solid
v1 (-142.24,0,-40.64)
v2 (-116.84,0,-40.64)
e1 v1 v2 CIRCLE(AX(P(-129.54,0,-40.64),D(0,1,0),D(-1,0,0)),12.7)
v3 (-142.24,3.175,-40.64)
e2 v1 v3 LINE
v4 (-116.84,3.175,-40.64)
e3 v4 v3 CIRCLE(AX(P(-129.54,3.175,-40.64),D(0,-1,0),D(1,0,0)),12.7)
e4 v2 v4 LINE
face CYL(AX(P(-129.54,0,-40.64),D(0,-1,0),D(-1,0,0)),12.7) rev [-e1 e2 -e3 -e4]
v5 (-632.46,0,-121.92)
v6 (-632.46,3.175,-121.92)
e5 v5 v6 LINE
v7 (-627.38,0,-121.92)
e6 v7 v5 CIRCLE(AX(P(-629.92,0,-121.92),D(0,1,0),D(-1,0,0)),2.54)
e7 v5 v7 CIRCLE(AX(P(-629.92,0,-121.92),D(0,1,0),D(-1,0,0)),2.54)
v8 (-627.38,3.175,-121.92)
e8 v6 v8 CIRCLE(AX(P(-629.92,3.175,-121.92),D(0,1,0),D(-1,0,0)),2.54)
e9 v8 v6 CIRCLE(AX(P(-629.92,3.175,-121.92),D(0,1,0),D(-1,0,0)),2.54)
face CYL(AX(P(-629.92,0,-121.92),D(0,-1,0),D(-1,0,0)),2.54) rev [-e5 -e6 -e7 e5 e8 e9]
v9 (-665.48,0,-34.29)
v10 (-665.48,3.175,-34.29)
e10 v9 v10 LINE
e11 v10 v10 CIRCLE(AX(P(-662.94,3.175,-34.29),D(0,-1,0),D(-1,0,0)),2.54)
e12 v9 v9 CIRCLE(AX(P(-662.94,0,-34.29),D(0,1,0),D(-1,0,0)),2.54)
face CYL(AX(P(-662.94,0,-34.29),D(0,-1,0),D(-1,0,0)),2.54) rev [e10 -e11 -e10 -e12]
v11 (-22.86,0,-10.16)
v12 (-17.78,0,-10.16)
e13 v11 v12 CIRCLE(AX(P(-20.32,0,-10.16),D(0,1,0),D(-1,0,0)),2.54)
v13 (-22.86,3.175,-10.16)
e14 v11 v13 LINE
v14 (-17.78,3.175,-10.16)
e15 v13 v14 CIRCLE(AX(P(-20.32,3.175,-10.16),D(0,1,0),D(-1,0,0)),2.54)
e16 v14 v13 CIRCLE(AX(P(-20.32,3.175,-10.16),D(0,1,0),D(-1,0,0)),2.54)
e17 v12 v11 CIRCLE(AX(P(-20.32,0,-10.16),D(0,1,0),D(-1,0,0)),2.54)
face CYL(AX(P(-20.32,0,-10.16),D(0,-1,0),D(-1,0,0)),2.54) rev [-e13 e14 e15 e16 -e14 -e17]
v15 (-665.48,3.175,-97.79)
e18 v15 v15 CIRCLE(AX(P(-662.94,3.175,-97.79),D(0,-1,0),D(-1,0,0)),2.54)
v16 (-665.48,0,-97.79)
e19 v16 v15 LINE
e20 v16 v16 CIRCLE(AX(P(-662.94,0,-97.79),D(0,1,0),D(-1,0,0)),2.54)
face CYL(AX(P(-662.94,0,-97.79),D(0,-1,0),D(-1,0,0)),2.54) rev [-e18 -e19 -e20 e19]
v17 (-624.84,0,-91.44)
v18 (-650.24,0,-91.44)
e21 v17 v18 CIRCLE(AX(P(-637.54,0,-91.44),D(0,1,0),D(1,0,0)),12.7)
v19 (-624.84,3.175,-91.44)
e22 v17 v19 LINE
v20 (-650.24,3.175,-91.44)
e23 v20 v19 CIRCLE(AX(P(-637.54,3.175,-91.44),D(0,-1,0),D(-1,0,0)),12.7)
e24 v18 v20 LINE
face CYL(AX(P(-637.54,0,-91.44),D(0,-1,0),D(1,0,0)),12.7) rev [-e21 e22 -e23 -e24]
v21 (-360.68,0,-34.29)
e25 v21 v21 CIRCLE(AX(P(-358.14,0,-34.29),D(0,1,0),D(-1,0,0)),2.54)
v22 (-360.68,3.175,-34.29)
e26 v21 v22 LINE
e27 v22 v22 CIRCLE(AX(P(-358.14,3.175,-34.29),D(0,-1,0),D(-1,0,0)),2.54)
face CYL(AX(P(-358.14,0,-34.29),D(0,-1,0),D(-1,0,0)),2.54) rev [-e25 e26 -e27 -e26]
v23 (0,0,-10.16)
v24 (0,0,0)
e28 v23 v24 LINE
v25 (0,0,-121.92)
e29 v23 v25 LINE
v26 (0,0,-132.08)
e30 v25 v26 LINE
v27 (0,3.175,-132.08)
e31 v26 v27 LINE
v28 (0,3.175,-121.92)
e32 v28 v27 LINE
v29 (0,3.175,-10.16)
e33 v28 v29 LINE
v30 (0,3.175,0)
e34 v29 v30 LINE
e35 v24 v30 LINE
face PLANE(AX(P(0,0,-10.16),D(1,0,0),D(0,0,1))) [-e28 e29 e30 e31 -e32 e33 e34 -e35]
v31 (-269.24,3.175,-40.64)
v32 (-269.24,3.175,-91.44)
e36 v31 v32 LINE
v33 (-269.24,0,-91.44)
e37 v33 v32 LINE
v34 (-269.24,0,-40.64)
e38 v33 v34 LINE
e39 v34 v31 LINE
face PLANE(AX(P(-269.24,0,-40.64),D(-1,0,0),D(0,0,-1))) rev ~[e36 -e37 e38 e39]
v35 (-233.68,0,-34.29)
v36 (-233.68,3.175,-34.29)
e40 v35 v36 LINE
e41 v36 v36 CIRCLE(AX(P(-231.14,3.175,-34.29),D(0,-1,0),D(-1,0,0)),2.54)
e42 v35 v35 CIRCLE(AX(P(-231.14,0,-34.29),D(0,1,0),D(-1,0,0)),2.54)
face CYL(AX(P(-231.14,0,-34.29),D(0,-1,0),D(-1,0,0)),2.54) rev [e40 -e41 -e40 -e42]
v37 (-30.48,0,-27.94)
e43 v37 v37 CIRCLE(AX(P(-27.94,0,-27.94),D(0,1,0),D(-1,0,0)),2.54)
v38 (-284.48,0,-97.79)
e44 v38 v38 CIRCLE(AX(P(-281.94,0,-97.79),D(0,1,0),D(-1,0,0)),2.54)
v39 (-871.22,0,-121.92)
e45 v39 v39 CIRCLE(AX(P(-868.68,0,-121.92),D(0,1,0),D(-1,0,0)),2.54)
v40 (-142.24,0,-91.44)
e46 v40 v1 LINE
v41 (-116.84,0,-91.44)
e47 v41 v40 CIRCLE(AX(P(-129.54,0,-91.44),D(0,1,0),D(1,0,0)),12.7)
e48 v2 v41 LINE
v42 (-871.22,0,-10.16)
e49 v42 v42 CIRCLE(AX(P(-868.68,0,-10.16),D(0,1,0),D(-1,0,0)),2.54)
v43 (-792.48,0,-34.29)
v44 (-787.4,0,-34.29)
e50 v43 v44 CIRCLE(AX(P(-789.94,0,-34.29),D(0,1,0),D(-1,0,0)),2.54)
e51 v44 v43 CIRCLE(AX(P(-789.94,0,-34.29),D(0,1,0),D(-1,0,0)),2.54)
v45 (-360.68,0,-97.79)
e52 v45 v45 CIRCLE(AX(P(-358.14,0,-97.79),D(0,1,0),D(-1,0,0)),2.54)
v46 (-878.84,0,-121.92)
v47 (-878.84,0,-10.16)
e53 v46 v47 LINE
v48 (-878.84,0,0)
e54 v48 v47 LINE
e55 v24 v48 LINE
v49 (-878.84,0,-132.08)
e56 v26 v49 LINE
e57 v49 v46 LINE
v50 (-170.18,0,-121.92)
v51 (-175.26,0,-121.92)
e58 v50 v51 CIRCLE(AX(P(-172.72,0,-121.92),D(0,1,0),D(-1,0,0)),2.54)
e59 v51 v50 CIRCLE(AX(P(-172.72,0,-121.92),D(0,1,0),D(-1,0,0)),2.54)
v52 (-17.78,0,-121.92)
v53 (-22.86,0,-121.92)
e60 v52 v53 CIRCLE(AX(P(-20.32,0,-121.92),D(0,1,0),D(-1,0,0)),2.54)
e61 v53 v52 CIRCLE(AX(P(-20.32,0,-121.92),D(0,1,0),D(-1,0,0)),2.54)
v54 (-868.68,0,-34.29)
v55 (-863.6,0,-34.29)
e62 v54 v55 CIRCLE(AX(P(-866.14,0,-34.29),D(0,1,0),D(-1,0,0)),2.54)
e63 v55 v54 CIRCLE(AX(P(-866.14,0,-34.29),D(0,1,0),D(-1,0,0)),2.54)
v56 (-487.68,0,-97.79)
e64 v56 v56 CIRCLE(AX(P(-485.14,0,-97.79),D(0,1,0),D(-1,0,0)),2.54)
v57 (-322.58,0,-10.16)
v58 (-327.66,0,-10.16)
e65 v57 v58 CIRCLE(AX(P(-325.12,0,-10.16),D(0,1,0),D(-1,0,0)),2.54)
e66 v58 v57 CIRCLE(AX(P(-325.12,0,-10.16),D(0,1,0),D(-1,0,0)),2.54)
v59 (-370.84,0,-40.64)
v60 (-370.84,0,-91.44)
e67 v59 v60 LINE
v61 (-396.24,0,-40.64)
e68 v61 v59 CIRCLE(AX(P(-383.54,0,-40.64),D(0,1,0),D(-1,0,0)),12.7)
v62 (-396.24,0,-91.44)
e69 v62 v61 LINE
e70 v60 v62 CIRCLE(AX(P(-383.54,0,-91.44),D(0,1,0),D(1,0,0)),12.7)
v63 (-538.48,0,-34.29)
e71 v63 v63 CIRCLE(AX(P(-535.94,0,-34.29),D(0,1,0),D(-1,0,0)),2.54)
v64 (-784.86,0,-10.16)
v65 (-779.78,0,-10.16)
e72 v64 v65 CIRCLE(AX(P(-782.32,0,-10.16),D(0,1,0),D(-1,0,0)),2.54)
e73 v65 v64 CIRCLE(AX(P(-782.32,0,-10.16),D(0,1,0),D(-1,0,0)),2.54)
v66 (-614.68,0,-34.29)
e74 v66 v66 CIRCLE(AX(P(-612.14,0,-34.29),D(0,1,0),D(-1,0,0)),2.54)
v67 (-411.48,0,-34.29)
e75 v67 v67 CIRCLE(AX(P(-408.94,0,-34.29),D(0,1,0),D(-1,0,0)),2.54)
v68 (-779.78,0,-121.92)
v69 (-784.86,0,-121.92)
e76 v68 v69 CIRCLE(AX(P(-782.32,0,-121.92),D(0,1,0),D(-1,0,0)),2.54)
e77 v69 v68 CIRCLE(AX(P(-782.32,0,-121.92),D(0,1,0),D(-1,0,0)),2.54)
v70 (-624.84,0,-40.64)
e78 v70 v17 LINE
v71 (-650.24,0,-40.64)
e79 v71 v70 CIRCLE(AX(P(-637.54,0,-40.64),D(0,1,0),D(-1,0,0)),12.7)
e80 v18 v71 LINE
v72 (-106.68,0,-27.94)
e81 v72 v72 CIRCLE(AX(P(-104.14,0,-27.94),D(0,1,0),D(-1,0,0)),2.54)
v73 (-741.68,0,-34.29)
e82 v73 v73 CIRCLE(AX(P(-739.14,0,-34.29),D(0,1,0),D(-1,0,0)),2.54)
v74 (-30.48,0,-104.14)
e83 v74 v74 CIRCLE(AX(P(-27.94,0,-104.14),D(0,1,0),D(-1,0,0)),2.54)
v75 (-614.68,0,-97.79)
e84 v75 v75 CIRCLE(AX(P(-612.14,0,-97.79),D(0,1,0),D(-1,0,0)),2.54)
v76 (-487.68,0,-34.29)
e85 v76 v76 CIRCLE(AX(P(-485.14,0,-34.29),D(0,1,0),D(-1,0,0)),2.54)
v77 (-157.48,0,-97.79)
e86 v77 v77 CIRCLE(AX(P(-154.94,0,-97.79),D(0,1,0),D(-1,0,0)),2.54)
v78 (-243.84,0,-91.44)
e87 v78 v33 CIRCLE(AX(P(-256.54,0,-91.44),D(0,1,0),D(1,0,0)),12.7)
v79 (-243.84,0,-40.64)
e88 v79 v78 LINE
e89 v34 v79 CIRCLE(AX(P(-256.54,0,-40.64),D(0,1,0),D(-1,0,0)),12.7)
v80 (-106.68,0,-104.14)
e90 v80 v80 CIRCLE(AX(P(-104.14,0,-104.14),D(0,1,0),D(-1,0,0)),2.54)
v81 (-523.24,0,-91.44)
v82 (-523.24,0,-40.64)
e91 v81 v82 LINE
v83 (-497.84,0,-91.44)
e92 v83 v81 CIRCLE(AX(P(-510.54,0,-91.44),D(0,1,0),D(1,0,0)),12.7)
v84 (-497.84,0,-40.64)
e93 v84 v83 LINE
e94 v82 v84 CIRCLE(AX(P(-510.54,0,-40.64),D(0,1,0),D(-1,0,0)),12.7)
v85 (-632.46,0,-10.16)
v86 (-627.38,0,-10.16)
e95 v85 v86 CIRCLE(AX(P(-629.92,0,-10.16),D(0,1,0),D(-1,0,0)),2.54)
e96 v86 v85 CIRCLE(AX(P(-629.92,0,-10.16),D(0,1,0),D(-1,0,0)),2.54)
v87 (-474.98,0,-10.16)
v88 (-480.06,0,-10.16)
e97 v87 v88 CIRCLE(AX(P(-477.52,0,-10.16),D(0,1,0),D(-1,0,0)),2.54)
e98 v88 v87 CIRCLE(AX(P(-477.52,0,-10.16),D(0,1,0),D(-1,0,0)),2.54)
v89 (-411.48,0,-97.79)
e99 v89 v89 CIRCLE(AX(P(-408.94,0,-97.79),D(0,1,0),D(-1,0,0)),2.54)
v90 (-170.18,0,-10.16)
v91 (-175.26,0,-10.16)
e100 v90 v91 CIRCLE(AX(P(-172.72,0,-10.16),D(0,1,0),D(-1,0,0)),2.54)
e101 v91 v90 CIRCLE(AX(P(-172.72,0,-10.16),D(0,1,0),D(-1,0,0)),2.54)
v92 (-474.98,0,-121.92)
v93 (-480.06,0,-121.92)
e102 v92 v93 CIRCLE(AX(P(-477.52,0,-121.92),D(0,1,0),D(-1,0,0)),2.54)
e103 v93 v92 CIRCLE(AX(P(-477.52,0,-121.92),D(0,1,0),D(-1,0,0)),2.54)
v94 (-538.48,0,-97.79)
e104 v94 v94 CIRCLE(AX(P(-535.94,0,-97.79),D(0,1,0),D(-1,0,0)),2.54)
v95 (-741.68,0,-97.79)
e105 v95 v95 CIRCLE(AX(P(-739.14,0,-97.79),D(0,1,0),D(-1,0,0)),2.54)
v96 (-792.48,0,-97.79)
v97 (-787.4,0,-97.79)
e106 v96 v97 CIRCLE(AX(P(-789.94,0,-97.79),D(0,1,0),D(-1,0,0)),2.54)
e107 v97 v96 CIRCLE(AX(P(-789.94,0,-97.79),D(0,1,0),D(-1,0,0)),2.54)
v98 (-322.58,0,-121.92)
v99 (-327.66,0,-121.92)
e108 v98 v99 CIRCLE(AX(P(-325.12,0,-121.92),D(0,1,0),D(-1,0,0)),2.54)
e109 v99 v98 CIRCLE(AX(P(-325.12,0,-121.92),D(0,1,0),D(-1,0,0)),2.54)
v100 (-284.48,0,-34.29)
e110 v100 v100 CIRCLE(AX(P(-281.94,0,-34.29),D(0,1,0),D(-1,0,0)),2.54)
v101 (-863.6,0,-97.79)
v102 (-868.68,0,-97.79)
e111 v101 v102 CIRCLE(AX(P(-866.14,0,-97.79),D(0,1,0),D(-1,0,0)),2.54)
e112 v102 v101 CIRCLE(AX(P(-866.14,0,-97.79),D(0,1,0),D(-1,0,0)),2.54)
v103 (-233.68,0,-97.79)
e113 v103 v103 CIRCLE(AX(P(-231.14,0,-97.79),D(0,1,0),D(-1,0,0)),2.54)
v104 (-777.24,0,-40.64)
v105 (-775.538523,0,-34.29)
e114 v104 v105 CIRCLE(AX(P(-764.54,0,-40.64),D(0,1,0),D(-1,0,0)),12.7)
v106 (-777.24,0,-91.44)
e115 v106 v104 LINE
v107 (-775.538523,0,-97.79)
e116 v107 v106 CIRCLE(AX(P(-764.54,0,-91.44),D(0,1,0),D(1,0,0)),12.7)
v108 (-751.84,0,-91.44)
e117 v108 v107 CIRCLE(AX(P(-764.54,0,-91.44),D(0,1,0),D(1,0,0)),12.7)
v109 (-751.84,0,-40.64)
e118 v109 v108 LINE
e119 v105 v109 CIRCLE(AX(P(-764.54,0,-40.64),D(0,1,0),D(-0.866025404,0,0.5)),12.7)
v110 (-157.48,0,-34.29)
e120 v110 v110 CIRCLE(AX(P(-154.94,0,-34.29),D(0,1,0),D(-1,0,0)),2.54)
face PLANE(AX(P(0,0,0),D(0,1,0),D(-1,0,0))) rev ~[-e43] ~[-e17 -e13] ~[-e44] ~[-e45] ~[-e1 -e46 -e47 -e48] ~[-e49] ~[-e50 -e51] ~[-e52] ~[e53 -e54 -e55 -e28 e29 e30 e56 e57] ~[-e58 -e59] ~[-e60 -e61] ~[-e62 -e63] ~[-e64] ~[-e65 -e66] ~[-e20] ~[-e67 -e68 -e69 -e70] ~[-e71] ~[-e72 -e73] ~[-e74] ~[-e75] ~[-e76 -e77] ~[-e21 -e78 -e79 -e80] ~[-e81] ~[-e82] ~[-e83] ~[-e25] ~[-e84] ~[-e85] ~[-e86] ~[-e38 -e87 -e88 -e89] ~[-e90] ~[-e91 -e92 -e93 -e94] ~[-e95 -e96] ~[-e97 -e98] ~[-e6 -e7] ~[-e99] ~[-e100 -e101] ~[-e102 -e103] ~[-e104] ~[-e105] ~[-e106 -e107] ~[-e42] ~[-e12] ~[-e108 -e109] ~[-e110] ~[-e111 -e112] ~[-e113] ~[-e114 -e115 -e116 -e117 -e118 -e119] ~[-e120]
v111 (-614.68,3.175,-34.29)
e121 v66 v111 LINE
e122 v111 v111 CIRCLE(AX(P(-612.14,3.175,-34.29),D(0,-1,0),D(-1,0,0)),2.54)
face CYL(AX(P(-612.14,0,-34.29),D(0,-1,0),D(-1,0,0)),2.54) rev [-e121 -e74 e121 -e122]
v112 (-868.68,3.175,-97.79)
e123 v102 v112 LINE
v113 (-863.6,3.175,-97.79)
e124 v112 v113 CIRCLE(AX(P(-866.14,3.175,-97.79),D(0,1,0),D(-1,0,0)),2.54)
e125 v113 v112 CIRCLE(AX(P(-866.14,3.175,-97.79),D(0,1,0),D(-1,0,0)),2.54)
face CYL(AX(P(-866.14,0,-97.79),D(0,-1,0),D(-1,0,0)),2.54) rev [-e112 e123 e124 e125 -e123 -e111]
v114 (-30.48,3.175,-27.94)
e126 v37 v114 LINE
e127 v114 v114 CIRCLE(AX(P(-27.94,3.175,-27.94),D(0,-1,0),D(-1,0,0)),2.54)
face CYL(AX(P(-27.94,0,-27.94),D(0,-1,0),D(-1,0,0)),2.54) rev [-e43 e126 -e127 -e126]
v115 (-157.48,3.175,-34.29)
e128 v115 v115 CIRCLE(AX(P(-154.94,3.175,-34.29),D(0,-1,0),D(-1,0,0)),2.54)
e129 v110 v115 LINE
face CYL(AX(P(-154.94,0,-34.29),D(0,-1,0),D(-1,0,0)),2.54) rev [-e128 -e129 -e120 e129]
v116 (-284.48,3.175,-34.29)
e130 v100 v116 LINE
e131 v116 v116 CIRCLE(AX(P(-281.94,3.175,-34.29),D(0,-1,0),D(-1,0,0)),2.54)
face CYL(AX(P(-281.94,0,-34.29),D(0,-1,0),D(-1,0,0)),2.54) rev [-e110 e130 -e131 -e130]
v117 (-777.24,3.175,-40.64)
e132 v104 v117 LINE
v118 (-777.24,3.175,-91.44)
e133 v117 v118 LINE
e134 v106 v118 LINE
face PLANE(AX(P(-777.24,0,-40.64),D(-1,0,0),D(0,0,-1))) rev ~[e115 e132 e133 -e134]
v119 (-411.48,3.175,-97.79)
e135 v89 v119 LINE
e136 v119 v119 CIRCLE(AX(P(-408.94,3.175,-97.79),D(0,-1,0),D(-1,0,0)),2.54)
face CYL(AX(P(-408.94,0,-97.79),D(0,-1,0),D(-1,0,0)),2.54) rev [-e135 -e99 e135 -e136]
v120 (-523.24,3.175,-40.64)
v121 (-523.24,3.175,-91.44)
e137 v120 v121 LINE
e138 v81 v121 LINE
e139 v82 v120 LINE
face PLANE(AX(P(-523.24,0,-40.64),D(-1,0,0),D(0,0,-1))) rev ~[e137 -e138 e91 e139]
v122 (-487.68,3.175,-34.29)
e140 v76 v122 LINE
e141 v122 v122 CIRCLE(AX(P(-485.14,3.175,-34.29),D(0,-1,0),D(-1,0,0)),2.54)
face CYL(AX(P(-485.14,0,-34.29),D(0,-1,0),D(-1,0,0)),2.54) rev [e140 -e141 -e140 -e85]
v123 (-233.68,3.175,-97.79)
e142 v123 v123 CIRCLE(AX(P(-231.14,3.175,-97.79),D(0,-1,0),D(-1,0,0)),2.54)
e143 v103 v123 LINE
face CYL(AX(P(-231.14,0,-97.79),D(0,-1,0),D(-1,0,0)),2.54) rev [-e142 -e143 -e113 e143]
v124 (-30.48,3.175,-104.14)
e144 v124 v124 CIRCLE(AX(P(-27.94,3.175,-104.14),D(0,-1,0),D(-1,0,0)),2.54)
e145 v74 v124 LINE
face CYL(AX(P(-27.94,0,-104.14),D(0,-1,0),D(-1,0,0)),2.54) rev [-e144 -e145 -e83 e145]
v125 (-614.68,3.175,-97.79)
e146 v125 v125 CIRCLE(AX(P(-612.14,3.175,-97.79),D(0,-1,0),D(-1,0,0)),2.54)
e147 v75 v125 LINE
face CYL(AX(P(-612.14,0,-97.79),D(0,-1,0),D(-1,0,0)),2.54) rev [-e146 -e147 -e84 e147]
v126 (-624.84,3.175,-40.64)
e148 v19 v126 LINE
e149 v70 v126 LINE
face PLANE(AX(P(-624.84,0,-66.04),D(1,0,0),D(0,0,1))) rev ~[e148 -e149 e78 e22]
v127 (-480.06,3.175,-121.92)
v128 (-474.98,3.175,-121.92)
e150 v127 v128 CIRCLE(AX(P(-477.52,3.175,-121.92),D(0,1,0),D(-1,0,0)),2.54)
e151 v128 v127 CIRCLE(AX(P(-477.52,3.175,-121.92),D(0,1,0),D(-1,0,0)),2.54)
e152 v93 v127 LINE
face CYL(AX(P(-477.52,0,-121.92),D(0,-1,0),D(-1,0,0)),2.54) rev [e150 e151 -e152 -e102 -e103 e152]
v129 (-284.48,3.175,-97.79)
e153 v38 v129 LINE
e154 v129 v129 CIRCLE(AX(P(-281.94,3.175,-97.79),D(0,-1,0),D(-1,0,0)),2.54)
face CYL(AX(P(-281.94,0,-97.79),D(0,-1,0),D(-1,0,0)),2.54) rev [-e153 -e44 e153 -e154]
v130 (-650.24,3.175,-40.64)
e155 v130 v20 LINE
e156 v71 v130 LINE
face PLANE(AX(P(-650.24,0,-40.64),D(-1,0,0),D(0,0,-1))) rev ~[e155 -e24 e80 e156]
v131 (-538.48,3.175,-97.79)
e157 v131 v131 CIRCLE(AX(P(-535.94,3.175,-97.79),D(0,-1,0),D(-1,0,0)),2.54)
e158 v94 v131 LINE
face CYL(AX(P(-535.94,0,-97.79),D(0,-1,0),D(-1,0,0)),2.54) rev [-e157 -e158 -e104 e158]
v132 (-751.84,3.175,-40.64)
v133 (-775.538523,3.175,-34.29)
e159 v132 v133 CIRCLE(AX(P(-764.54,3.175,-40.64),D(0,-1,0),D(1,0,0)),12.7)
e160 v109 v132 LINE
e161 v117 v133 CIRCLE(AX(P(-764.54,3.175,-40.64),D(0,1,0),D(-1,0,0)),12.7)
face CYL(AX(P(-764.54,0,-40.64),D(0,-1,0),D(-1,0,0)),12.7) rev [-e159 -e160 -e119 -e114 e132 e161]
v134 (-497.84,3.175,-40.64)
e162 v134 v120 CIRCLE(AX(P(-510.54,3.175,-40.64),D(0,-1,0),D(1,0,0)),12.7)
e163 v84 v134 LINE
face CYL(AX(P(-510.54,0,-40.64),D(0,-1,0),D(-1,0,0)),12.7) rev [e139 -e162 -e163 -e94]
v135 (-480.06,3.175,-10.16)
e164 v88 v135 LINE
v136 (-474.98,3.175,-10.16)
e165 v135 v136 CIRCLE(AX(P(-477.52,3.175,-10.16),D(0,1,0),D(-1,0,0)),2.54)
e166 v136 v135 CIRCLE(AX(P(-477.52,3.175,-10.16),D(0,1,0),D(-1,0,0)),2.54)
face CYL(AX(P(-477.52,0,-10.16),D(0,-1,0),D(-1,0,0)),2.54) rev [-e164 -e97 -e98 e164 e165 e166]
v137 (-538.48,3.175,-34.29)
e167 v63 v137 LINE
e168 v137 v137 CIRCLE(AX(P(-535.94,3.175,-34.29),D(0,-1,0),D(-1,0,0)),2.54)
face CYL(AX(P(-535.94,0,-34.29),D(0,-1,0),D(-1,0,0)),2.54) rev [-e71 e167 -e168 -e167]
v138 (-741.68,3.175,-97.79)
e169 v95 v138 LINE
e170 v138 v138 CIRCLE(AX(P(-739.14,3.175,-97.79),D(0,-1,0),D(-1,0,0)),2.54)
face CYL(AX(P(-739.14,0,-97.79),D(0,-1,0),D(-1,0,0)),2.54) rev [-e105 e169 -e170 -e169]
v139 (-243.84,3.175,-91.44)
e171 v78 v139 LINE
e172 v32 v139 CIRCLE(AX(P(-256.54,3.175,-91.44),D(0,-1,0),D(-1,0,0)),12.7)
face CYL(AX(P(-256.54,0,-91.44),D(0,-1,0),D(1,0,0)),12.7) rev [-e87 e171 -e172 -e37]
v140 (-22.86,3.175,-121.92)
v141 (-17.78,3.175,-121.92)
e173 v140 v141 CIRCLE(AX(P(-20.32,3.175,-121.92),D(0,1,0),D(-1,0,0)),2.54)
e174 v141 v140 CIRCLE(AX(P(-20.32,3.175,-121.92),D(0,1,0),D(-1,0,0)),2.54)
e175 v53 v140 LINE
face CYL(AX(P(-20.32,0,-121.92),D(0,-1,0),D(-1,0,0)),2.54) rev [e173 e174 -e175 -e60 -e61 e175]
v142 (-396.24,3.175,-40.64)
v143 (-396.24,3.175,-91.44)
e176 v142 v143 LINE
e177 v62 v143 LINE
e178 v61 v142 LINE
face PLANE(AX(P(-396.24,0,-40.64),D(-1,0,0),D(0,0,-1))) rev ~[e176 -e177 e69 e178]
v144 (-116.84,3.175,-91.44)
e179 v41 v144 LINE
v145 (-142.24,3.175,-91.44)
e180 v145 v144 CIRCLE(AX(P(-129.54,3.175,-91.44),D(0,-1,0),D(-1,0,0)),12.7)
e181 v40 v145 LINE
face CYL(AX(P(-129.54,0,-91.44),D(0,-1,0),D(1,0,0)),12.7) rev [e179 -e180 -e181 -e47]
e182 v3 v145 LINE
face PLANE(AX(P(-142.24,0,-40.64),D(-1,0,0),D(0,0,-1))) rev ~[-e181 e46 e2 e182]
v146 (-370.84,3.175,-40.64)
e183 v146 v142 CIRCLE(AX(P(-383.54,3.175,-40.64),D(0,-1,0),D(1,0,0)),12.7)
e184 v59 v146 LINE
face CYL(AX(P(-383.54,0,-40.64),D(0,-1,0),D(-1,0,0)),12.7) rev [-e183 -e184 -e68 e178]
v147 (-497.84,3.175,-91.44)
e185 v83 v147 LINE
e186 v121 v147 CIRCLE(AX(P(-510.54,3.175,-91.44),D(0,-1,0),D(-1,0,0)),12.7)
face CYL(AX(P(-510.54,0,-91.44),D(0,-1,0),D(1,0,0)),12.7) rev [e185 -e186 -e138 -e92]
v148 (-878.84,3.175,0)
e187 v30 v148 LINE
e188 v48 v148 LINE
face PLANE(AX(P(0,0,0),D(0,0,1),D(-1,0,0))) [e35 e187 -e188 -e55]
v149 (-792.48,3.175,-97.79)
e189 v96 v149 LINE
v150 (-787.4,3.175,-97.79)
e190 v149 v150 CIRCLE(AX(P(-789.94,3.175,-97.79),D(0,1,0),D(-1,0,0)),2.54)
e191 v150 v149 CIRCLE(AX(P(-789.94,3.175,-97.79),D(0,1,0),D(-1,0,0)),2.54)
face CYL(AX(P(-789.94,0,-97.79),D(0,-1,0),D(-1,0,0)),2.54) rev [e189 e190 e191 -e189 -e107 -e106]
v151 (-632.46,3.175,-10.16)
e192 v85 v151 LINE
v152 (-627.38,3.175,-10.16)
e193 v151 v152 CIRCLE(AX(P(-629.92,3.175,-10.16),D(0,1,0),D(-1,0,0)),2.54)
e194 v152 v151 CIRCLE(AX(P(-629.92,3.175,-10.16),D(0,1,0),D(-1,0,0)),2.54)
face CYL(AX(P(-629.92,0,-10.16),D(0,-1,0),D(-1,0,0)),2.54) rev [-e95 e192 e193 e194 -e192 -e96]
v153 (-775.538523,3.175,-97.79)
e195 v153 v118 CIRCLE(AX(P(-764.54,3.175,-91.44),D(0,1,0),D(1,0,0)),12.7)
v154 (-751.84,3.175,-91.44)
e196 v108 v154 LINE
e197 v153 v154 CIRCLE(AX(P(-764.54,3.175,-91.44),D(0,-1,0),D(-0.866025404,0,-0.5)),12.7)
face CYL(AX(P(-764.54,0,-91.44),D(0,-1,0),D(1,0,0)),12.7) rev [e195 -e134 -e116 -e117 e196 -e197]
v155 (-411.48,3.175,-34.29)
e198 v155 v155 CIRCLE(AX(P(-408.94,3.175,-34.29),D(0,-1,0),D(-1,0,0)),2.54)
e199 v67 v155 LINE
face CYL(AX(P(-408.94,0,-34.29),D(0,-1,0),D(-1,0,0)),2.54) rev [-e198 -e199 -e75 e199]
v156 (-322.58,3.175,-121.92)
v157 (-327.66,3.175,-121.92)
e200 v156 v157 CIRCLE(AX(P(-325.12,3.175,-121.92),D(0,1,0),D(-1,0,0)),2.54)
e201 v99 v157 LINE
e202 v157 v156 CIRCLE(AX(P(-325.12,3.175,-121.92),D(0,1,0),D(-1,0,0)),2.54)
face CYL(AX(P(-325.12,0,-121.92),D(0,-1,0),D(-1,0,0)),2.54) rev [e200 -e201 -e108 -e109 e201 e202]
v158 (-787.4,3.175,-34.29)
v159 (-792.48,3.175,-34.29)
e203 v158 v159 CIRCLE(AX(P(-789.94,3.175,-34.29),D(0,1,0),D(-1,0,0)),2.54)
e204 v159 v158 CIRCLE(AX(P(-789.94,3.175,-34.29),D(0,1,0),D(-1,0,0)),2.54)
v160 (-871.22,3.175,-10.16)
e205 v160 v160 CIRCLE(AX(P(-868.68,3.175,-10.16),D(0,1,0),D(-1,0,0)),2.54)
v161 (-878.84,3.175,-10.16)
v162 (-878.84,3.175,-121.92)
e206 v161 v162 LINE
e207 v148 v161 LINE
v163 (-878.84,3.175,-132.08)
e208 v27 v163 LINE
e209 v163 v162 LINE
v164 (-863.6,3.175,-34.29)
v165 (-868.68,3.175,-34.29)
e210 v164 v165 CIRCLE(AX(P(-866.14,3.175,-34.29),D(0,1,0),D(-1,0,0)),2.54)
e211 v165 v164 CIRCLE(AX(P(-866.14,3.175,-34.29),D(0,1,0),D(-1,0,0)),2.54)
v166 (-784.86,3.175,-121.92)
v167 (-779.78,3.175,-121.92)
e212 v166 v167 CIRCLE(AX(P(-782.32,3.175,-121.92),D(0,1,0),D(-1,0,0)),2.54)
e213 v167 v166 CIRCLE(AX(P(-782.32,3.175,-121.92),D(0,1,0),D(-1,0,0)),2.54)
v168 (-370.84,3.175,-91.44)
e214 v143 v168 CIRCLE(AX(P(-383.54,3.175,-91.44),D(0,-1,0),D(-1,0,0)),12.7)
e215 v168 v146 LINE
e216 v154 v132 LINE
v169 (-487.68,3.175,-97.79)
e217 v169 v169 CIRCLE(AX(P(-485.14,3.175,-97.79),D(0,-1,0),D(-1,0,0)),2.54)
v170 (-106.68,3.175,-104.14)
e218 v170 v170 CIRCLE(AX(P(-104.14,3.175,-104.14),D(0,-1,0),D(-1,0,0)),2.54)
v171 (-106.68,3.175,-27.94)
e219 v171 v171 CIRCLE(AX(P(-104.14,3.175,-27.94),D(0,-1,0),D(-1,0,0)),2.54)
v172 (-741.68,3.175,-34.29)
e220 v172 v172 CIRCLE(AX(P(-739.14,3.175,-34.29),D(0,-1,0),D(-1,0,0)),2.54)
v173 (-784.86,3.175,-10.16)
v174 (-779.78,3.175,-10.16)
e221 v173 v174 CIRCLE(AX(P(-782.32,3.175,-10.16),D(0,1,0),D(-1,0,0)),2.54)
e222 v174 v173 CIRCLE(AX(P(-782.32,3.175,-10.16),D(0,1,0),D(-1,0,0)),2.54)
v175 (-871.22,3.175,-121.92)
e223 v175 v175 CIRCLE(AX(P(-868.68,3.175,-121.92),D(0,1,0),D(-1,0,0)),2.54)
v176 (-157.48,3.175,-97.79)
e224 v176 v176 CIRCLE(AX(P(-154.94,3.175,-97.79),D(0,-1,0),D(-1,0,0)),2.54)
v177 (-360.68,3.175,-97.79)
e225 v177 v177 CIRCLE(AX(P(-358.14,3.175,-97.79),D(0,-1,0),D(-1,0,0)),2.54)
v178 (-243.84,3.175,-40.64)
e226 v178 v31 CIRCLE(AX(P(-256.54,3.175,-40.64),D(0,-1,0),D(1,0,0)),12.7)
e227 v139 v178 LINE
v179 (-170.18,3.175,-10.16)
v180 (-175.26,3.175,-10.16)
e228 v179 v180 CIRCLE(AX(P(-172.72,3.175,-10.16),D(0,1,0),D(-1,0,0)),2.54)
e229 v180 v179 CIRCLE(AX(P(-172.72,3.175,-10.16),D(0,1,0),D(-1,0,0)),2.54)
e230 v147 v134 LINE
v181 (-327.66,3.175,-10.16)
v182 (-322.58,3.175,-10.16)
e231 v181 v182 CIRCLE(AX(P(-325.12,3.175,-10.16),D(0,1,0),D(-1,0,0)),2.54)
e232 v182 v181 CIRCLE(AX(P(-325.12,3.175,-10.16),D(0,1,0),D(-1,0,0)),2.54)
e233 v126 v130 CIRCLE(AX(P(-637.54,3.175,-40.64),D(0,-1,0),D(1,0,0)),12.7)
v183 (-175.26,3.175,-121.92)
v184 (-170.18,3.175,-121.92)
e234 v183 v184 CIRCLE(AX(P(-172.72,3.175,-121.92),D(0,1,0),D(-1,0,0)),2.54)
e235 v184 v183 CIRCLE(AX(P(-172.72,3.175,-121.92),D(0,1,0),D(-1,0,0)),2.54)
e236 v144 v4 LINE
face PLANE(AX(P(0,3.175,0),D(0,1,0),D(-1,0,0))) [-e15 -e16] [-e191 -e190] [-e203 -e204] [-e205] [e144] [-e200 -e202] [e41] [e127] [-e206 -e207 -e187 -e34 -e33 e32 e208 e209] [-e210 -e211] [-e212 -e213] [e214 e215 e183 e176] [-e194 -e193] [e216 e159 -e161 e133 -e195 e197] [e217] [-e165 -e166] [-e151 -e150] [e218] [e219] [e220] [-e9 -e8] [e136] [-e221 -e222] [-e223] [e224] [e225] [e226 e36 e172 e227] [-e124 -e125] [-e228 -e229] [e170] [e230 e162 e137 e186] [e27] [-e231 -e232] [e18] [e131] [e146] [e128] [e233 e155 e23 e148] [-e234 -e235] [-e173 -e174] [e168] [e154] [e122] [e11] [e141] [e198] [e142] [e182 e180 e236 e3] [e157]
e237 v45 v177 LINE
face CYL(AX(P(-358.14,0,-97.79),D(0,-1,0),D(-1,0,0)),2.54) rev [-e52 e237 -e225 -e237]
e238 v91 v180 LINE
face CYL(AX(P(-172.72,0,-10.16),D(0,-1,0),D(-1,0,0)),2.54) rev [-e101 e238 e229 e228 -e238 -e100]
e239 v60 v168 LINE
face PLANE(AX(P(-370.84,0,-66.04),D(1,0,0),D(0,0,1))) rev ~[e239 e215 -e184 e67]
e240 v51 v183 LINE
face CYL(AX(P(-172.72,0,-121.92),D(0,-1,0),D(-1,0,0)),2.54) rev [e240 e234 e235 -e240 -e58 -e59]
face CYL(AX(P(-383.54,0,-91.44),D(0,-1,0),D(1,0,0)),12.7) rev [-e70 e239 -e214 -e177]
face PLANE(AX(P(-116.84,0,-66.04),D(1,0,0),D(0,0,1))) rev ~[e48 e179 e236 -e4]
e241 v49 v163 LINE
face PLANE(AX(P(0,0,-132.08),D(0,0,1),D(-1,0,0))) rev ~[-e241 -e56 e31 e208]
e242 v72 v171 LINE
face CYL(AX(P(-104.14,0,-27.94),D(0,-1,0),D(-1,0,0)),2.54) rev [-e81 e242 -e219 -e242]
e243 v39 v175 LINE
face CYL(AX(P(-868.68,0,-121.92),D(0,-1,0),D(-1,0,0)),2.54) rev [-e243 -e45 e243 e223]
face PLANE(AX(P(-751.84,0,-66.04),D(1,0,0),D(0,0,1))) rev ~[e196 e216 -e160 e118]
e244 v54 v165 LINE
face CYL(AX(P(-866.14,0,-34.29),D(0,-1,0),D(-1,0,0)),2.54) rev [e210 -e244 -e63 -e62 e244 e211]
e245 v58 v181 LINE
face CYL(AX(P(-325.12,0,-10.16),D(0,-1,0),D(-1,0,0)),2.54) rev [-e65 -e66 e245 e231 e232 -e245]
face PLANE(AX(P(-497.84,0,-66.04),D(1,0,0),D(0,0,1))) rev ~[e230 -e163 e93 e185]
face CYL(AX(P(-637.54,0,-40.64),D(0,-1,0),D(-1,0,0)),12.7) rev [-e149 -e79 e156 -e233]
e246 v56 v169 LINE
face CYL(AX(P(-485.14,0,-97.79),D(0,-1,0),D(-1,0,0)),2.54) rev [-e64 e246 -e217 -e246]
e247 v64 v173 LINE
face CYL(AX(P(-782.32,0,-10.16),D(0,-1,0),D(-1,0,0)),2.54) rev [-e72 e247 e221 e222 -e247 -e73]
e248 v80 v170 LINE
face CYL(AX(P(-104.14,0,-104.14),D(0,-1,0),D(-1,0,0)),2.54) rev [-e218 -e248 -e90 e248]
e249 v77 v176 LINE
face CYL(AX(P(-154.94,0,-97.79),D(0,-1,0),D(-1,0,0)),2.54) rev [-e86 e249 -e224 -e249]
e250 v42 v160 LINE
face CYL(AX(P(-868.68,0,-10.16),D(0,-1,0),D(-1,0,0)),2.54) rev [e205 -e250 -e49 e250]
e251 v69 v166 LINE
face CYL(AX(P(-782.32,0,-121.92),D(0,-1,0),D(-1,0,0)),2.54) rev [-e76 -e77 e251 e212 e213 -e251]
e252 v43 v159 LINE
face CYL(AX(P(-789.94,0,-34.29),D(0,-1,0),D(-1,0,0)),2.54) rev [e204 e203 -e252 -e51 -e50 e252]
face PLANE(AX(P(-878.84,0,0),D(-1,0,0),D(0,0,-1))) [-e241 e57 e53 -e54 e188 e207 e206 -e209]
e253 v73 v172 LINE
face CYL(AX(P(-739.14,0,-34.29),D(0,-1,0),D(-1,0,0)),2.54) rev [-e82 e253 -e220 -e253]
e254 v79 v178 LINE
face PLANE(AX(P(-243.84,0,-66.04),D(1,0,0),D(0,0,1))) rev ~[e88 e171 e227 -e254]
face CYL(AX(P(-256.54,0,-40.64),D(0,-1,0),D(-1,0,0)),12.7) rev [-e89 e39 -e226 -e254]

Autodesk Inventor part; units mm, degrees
ref_plane "YZ Plane" through (0, 0, 0) normal (1, 0, 0) x (0, 1, 0)
ref_plane "XZ Plane" through (0, 0, 0) normal (0, 1, 0) x (-1, 0, 0)
ref_plane "XY Plane" through (0, 0, 0) normal (0, 0, 1) x (1, 0, 0)
sketch "Sketch1" plane through (0, 0, 0) normal (0, 1, 0) x (-1, 0, 0)
  line L0 (0, 0) -> (878.84, 0)
  line L1 (878.84, 0) -> (878.84, -66.04)
  line L2 (878.84, -66.04) -> (0, -66.04)
  line L3 (0, -66.04) -> (0, 0)
  line L4 (0, 0) -> (0, -20.32)
  line L5 (0, 0) -> (20.32, 0) construction
  line L6 (0, -20.32) -> (878.84, -20.32)
  line L7 (0, -10.16) -> (20.32, -10.16)
  line L8 (0, -10.16) -> (20.32, -10.16) construction
  circle A0 centre (20.32, -10.16) radius 2.54
  line L9 (20.32, -10.16) -> (172.72, -10.16)
  line L10 (20.32, -10.16) -> (172.72, -10.16) construction
  circle A1 centre (172.72, -10.16) radius 2.54
  line L11 (172.72, -10.16) -> (325.12, -10.16)
  circle A2 centre (325.12, -10.16) radius 2.54
  line L12 (325.12, -10.16) -> (477.52, -10.16)
  circle A3 centre (477.52, -10.16) radius 2.54
  line L13 (477.52, -10.16) -> (629.92, -10.16)
  circle A4 centre (629.92, -10.16) radius 2.54
  line L14 (629.92, -10.16) -> (782.32, -10.16)
  circle A5 centre (782.32, -10.16) radius 2.54
  line L15 (878.84, 0) -> (878.84, -10.16)
  line L16 (878.84, 0) -> (889, 0) construction
  line L17 (878.84, -10.16) -> (868.68, -10.16)
  circle A6 centre (868.68, -10.16) radius 2.54
  line L18 (0, 0) -> (0, -27.94)
  line L19 (0, 0) -> (27.94, 0) construction
  line L20 (0, -27.94) -> (27.94, -27.94)
  circle A7 centre (27.94, -27.94) radius 2.54
  line L21 (27.94, -27.94) -> (104.14, -27.94)
  line L22 (27.94, -27.94) -> (104.14, -27.94) construction
  circle A8 centre (104.14, -27.94) radius 2.54
  line L23 (104.14, -27.94) -> (129.54, -27.94)
  line L24 (142.24, -40.64) -> (142.24, -66.04)
  line L25 (142.24, -66.04) -> (116.84, -66.04)
  line L26 (116.84, -66.04) -> (116.84, -40.64)
  line L27 (116.84, -27.94) -> (116.84, -40.64)
  line L28 (116.84, -27.94) -> (129.54, -27.94) construction
  line L29 (116.84, -40.64) -> (129.54, -40.64)
  arc A9 (142.24, -40.64) -> (116.84, -40.64) centre (129.54, -40.64) ccw
  line L30 (142.24, -40.64) -> (154.94, -40.64) construction
  line L31 (142.24, -66.04) -> (154.94, -66.04)
  line L32 (142.24, -66.04) -> (154.94, -66.04) construction
  line L33 (154.94, -66.04) -> (154.94, -34.29)
  circle A10 centre (154.94, -34.29) radius 2.54
  line L34 (154.94, -34.29) -> (231.14, -34.29)
  line L35 (154.94, -34.29) -> (231.14, -34.29) construction
  circle A11 centre (231.14, -34.29) radius 2.54
  line L36 (154.94, -34.29) -> (104.14, -34.29)
  line L37 (154.94, -34.29) -> (205.74, -34.29) construction
  line L38 (269.24, -40.64) -> (269.24, -66.04)
  line L39 (243.84, -66.04) -> (243.84, -40.64)
  arc A12 (269.24, -40.64) -> (243.84, -40.64) centre (256.54, -40.64) ccw
  circle A13 centre (281.94, -34.29) radius 2.54
  line L40 (281.94, -34.29) -> (358.14, -34.29)
  circle A14 centre (358.14, -34.29) radius 2.54
  line L41 (281.94, -34.29) -> (231.14, -34.29)
  line L42 (396.24, -40.64) -> (396.24, -66.04)
  line L43 (370.84, -66.04) -> (370.84, -40.64)
  arc A15 (396.24, -40.64) -> (370.84, -40.64) centre (383.54, -40.64) ccw
  circle A16 centre (408.94, -34.29) radius 2.54
  line L44 (408.94, -34.29) -> (485.14, -34.29)
  circle A17 centre (485.14, -34.29) radius 2.54
  line L45 (408.94, -34.29) -> (358.14, -34.29)
  line L46 (523.24, -40.64) -> (523.24, -66.04)
  line L47 (497.84, -66.04) -> (497.84, -40.64)
  arc A18 (523.24, -40.64) -> (497.84, -40.64) centre (510.54, -40.64) ccw
  circle A19 centre (535.94, -34.29) radius 2.54
  line L48 (535.94, -34.29) -> (612.14, -34.29)
  circle A20 centre (612.14, -34.29) radius 2.54
  line L49 (535.94, -34.29) -> (485.14, -34.29)
  line L50 (650.24, -40.64) -> (650.24, -66.04)
  line L51 (624.84, -66.04) -> (624.84, -40.64)
  arc A21 (650.24, -40.64) -> (624.84, -40.64) centre (637.54, -40.64) ccw
  circle A22 centre (662.94, -34.29) radius 2.54
  line L52 (662.94, -34.29) -> (739.14, -34.29)
  circle A23 centre (739.14, -34.29) radius 2.54
  line L53 (662.94, -34.29) -> (612.14, -34.29)
  line L54 (777.24, -40.64) -> (777.24, -66.04)
  line L55 (751.84, -66.04) -> (751.84, -40.64)
  arc A24 (777.24, -40.64) -> (751.84, -40.64) centre (764.54, -40.64) ccw
  circle A25 centre (789.94, -34.29) radius 2.54
  line L56 (789.94, -34.29) -> (866.14, -34.29)
  circle A26 centre (866.14, -34.29) radius 2.54
  line L57 (789.94, -34.29) -> (739.14, -34.29)
  line L58 (0, -132.08) -> (878.84, -132.08)
  line L59 (878.84, -132.08) -> (878.84, -66.04)
  line L60 (0, -66.04) -> (0, -132.08)
  line L61 (0, -132.08) -> (0, -111.76)
  line L62 (0, -132.08) -> (20.32, -132.08) construction
  line L63 (0, -111.76) -> (878.84, -111.76)
  line L64 (0, -121.92) -> (20.32, -121.92)
  line L65 (0, -121.92) -> (20.32, -121.92) construction
  circle A27 centre (20.32, -121.92) radius 2.54
  line L66 (20.32, -121.92) -> (172.72, -121.92)
  line L67 (20.32, -121.92) -> (172.72, -121.92) construction
  circle A28 centre (172.72, -121.92) radius 2.54
  circle A29 centre (325.12, -121.92) radius 2.54
  line L68 (172.72, -121.92) -> (325.12, -121.92)
  circle A30 centre (477.52, -121.92) radius 2.54
  line L69 (325.12, -121.92) -> (477.52, -121.92)
  circle A31 centre (629.92, -121.92) radius 2.54
  line L70 (477.52, -121.92) -> (629.92, -121.92)
  circle A32 centre (782.32, -121.92) radius 2.54
  line L71 (629.92, -121.92) -> (782.32, -121.92)
  line L72 (878.84, -132.08) -> (878.84, -121.92)
  line L73 (878.84, -132.08) -> (889, -132.08) construction
  line L74 (878.84, -121.92) -> (868.68, -121.92)
  circle A33 centre (868.68, -121.92) radius 2.54
  line L75 (0, -132.08) -> (0, -104.14)
  line L76 (0, -132.08) -> (27.94, -132.08) construction
  line L77 (0, -104.14) -> (27.94, -104.14)
  circle A34 centre (27.94, -104.14) radius 2.54
  line L78 (27.94, -104.14) -> (104.14, -104.14)
  line L79 (27.94, -104.14) -> (104.14, -104.14) construction
  circle A35 centre (104.14, -104.14) radius 2.54
  line L80 (104.14, -104.14) -> (129.54, -104.14)
  line L81 (142.24, -91.44) -> (142.24, -66.04)
  line L82 (116.84, -66.04) -> (116.84, -91.44)
  line L83 (116.84, -104.14) -> (116.84, -91.44)
  line L84 (116.84, -104.14) -> (129.54, -104.14) construction
  line L85 (116.84, -91.44) -> (129.54, -91.44)
  arc A36 (116.84, -91.44) -> (142.24, -91.44) centre (129.54, -91.44) ccw
  line L86 (142.24, -91.44) -> (154.94, -91.44) construction
  line L87 (154.94, -66.04) -> (154.94, -97.79)
  circle A37 centre (154.94, -97.79) radius 2.54
  line L88 (154.94, -97.79) -> (231.14, -97.79)
  line L89 (154.94, -97.79) -> (231.14, -97.79) construction
  circle A38 centre (231.14, -97.79) radius 2.54
  line L90 (154.94, -97.79) -> (104.14, -97.79)
  line L91 (154.94, -97.79) -> (205.74, -97.79) construction
  line L92 (281.94, -97.79) -> (231.14, -97.79)
  line L93 (281.94, -97.79) -> (358.14, -97.79)
  line L94 (269.24, -91.44) -> (269.24, -66.04)
  line L95 (243.84, -66.04) -> (243.84, -91.44)
  arc A39 (243.84, -91.44) -> (269.24, -91.44) centre (256.54, -91.44) ccw
  circle A40 centre (281.94, -97.79) radius 2.54
  circle A41 centre (358.14, -97.79) radius 2.54
  line L96 (408.94, -97.79) -> (358.14, -97.79)
  line L97 (408.94, -97.79) -> (485.14, -97.79)
  line L98 (396.24, -91.44) -> (396.24, -66.04)
  line L99 (370.84, -66.04) -> (370.84, -91.44)
  arc A42 (370.84, -91.44) -> (396.24, -91.44) centre (383.54, -91.44) ccw
  circle A43 centre (408.94, -97.79) radius 2.54
  circle A44 centre (485.14, -97.79) radius 2.54
  line L100 (535.94, -97.79) -> (485.14, -97.79)
  line L101 (535.94, -97.79) -> (612.14, -97.79)
  line L102 (523.24, -91.44) -> (523.24, -66.04)
  line L103 (497.84, -66.04) -> (497.84, -91.44)
  arc A45 (497.84, -91.44) -> (523.24, -91.44) centre (510.54, -91.44) ccw
  circle A46 centre (535.94, -97.79) radius 2.54
  circle A47 centre (612.14, -97.79) radius 2.54
  line L104 (662.94, -97.79) -> (612.14, -97.79)
  line L105 (662.94, -97.79) -> (739.14, -97.79)
  line L106 (650.24, -91.44) -> (650.24, -66.04)
  line L107 (624.84, -66.04) -> (624.84, -91.44)
  arc A48 (624.84, -91.44) -> (650.24, -91.44) centre (637.54, -91.44) ccw
  circle A49 centre (662.94, -97.79) radius 2.54
  circle A50 centre (739.14, -97.79) radius 2.54
  line L108 (789.94, -97.79) -> (739.14, -97.79)
  line L109 (789.94, -97.79) -> (866.14, -97.79)
  line L110 (777.24, -91.44) -> (777.24, -66.04)
  line L111 (751.84, -66.04) -> (751.84, -91.44)
  arc A51 (751.84, -91.44) -> (777.24, -91.44) centre (764.54, -91.44) ccw
  circle A52 centre (789.94, -97.79) radius 2.54
  circle A53 centre (866.14, -97.79) radius 2.54
  dimension "d8" = 878.84
  dimension "d9" = 66.04
  dimension "d10" = 20.32
  dimension "d11" = 90
  dimension "d12" = 878.84
  dimension "d14" = 20.32
  dimension "d15" = 0
  dimension "d16" = 5.08
  dimension "d17" = 152.4
  dimension "d19" = 5.08
  dimension "d20" = 152.4
  dimension "d21" = 5.08
  dimension "d22" = 152.4
  dimension "d23" = 5.08
  dimension "d24" = 152.4
  dimension "d25" = 5.08
  dimension "d26" = 152.4
  dimension "d27" = 5.08
  dimension "d28" = 10.16
  dimension "d29" = 90
  dimension "d30" = 10.16
  dimension "d31" = 90
  dimension "d32" = 5.08
  dimension "d33" = 27.94
  dimension "d34" = 90
  dimension "d35" = 27.94
  dimension "d36" = 90
  dimension "d37" = 5.08
  dimension "d38" = 76.2
  dimension "d39" = 0
  dimension "d40" = 5.08
  dimension "d41" = 25.4
  dimension "d43" = 25.4
  dimension "d46" = 12.7
  dimension "d47" = 90
  dimension "d48" = 12.7
  dimension "d51" = 12.7
  dimension "d52" = 0
  dimension "d53" = 31.75
  dimension "d54" = 90
  dimension "d55" = 5.08
  dimension "d56" = 76.2
  dimension "d57" = 0
  dimension "d58" = 5.08
  dimension "d59" = 50.8
  dimension "d60" = 180
  dimension "d61" = 25.4
  dimension "d62" = 5.08
  dimension "d63" = 76.2
  dimension "d64" = 5.08
  dimension "d65" = 50.8
  dimension "d66" = 25.4
  dimension "d67" = 5.08
  dimension "d68" = 76.2
  dimension "d69" = 5.08
  dimension "d70" = 50.8
  dimension "d71" = 25.4
  dimension "d72" = 5.08
  dimension "d73" = 76.2
  dimension "d74" = 5.08
  dimension "d75" = 50.8
  dimension "d76" = 25.4
  dimension "d77" = 5.08
  dimension "d78" = 76.2
extrude "Extrusion1" add sketch "Sketch1" along normal blind 3.175 contours L0 L1 L6 L3 | L6 L1 L2 L54 A24 L57 A23 L52 A22 L53 A21 A20 L48 A19 L49 A18 A17 L44 A16 L45 A15 A14 L40 A13 L41 A12 A11 L34 A10 L36 A9 L23 A8 L21 A7 L20 L3 | L20 A7 L21 A8 L23 L27 L26 L2 L3 | L59 L63 L60 L77 A34 L78 A35 L80 A36 L90 A37 L88 A38 L92 A39 A40 L93 A41 L96 A42 A43 L97 A44 L100 A45 A46 L101 A47 L104 A48 A49 L105 A50 L108 A51 L110 L2 | L2 L82 L83 L80 A35 L78 A34 L77 L60 | L59 L58 L60 L63 | L111 A51 L108 A50 L105 A49 L104 A48 L106 L2 | L2 L50 A21 L53 A22 L52 A23 L57 A24 L55 | L24 A9 L36 A10 L33 L2 | L2 L87 A37 L90 A36 L81 | L27 L36 A9 | A36 L90 L83 | L33 A10 L34 A11 L41 A12 L39 L2 | L2 L95 A39 L92 A38 L88 A37 L87 | L27 L23 A9 L36 | L90 A36 L80 L83 | L107 A48 L104 A47 L101 A46 L100 A45 L102 L2 | L2 L46 A18 L49 A19 L48 A20 L53 A21 L51 | L38 A12 L41 A13 L40 A14 L45 A15 L43 L2 | L2 L99 A42 L96 A41 L93 A40 L92 A39 L94 | L103 A45 L100 A44 L97 A43 L96 A42 L98 L2 | L2 L42 A15 L45 A16 L44 A17 L49 A18 L47
properties part number "PCBMountingPlate"
